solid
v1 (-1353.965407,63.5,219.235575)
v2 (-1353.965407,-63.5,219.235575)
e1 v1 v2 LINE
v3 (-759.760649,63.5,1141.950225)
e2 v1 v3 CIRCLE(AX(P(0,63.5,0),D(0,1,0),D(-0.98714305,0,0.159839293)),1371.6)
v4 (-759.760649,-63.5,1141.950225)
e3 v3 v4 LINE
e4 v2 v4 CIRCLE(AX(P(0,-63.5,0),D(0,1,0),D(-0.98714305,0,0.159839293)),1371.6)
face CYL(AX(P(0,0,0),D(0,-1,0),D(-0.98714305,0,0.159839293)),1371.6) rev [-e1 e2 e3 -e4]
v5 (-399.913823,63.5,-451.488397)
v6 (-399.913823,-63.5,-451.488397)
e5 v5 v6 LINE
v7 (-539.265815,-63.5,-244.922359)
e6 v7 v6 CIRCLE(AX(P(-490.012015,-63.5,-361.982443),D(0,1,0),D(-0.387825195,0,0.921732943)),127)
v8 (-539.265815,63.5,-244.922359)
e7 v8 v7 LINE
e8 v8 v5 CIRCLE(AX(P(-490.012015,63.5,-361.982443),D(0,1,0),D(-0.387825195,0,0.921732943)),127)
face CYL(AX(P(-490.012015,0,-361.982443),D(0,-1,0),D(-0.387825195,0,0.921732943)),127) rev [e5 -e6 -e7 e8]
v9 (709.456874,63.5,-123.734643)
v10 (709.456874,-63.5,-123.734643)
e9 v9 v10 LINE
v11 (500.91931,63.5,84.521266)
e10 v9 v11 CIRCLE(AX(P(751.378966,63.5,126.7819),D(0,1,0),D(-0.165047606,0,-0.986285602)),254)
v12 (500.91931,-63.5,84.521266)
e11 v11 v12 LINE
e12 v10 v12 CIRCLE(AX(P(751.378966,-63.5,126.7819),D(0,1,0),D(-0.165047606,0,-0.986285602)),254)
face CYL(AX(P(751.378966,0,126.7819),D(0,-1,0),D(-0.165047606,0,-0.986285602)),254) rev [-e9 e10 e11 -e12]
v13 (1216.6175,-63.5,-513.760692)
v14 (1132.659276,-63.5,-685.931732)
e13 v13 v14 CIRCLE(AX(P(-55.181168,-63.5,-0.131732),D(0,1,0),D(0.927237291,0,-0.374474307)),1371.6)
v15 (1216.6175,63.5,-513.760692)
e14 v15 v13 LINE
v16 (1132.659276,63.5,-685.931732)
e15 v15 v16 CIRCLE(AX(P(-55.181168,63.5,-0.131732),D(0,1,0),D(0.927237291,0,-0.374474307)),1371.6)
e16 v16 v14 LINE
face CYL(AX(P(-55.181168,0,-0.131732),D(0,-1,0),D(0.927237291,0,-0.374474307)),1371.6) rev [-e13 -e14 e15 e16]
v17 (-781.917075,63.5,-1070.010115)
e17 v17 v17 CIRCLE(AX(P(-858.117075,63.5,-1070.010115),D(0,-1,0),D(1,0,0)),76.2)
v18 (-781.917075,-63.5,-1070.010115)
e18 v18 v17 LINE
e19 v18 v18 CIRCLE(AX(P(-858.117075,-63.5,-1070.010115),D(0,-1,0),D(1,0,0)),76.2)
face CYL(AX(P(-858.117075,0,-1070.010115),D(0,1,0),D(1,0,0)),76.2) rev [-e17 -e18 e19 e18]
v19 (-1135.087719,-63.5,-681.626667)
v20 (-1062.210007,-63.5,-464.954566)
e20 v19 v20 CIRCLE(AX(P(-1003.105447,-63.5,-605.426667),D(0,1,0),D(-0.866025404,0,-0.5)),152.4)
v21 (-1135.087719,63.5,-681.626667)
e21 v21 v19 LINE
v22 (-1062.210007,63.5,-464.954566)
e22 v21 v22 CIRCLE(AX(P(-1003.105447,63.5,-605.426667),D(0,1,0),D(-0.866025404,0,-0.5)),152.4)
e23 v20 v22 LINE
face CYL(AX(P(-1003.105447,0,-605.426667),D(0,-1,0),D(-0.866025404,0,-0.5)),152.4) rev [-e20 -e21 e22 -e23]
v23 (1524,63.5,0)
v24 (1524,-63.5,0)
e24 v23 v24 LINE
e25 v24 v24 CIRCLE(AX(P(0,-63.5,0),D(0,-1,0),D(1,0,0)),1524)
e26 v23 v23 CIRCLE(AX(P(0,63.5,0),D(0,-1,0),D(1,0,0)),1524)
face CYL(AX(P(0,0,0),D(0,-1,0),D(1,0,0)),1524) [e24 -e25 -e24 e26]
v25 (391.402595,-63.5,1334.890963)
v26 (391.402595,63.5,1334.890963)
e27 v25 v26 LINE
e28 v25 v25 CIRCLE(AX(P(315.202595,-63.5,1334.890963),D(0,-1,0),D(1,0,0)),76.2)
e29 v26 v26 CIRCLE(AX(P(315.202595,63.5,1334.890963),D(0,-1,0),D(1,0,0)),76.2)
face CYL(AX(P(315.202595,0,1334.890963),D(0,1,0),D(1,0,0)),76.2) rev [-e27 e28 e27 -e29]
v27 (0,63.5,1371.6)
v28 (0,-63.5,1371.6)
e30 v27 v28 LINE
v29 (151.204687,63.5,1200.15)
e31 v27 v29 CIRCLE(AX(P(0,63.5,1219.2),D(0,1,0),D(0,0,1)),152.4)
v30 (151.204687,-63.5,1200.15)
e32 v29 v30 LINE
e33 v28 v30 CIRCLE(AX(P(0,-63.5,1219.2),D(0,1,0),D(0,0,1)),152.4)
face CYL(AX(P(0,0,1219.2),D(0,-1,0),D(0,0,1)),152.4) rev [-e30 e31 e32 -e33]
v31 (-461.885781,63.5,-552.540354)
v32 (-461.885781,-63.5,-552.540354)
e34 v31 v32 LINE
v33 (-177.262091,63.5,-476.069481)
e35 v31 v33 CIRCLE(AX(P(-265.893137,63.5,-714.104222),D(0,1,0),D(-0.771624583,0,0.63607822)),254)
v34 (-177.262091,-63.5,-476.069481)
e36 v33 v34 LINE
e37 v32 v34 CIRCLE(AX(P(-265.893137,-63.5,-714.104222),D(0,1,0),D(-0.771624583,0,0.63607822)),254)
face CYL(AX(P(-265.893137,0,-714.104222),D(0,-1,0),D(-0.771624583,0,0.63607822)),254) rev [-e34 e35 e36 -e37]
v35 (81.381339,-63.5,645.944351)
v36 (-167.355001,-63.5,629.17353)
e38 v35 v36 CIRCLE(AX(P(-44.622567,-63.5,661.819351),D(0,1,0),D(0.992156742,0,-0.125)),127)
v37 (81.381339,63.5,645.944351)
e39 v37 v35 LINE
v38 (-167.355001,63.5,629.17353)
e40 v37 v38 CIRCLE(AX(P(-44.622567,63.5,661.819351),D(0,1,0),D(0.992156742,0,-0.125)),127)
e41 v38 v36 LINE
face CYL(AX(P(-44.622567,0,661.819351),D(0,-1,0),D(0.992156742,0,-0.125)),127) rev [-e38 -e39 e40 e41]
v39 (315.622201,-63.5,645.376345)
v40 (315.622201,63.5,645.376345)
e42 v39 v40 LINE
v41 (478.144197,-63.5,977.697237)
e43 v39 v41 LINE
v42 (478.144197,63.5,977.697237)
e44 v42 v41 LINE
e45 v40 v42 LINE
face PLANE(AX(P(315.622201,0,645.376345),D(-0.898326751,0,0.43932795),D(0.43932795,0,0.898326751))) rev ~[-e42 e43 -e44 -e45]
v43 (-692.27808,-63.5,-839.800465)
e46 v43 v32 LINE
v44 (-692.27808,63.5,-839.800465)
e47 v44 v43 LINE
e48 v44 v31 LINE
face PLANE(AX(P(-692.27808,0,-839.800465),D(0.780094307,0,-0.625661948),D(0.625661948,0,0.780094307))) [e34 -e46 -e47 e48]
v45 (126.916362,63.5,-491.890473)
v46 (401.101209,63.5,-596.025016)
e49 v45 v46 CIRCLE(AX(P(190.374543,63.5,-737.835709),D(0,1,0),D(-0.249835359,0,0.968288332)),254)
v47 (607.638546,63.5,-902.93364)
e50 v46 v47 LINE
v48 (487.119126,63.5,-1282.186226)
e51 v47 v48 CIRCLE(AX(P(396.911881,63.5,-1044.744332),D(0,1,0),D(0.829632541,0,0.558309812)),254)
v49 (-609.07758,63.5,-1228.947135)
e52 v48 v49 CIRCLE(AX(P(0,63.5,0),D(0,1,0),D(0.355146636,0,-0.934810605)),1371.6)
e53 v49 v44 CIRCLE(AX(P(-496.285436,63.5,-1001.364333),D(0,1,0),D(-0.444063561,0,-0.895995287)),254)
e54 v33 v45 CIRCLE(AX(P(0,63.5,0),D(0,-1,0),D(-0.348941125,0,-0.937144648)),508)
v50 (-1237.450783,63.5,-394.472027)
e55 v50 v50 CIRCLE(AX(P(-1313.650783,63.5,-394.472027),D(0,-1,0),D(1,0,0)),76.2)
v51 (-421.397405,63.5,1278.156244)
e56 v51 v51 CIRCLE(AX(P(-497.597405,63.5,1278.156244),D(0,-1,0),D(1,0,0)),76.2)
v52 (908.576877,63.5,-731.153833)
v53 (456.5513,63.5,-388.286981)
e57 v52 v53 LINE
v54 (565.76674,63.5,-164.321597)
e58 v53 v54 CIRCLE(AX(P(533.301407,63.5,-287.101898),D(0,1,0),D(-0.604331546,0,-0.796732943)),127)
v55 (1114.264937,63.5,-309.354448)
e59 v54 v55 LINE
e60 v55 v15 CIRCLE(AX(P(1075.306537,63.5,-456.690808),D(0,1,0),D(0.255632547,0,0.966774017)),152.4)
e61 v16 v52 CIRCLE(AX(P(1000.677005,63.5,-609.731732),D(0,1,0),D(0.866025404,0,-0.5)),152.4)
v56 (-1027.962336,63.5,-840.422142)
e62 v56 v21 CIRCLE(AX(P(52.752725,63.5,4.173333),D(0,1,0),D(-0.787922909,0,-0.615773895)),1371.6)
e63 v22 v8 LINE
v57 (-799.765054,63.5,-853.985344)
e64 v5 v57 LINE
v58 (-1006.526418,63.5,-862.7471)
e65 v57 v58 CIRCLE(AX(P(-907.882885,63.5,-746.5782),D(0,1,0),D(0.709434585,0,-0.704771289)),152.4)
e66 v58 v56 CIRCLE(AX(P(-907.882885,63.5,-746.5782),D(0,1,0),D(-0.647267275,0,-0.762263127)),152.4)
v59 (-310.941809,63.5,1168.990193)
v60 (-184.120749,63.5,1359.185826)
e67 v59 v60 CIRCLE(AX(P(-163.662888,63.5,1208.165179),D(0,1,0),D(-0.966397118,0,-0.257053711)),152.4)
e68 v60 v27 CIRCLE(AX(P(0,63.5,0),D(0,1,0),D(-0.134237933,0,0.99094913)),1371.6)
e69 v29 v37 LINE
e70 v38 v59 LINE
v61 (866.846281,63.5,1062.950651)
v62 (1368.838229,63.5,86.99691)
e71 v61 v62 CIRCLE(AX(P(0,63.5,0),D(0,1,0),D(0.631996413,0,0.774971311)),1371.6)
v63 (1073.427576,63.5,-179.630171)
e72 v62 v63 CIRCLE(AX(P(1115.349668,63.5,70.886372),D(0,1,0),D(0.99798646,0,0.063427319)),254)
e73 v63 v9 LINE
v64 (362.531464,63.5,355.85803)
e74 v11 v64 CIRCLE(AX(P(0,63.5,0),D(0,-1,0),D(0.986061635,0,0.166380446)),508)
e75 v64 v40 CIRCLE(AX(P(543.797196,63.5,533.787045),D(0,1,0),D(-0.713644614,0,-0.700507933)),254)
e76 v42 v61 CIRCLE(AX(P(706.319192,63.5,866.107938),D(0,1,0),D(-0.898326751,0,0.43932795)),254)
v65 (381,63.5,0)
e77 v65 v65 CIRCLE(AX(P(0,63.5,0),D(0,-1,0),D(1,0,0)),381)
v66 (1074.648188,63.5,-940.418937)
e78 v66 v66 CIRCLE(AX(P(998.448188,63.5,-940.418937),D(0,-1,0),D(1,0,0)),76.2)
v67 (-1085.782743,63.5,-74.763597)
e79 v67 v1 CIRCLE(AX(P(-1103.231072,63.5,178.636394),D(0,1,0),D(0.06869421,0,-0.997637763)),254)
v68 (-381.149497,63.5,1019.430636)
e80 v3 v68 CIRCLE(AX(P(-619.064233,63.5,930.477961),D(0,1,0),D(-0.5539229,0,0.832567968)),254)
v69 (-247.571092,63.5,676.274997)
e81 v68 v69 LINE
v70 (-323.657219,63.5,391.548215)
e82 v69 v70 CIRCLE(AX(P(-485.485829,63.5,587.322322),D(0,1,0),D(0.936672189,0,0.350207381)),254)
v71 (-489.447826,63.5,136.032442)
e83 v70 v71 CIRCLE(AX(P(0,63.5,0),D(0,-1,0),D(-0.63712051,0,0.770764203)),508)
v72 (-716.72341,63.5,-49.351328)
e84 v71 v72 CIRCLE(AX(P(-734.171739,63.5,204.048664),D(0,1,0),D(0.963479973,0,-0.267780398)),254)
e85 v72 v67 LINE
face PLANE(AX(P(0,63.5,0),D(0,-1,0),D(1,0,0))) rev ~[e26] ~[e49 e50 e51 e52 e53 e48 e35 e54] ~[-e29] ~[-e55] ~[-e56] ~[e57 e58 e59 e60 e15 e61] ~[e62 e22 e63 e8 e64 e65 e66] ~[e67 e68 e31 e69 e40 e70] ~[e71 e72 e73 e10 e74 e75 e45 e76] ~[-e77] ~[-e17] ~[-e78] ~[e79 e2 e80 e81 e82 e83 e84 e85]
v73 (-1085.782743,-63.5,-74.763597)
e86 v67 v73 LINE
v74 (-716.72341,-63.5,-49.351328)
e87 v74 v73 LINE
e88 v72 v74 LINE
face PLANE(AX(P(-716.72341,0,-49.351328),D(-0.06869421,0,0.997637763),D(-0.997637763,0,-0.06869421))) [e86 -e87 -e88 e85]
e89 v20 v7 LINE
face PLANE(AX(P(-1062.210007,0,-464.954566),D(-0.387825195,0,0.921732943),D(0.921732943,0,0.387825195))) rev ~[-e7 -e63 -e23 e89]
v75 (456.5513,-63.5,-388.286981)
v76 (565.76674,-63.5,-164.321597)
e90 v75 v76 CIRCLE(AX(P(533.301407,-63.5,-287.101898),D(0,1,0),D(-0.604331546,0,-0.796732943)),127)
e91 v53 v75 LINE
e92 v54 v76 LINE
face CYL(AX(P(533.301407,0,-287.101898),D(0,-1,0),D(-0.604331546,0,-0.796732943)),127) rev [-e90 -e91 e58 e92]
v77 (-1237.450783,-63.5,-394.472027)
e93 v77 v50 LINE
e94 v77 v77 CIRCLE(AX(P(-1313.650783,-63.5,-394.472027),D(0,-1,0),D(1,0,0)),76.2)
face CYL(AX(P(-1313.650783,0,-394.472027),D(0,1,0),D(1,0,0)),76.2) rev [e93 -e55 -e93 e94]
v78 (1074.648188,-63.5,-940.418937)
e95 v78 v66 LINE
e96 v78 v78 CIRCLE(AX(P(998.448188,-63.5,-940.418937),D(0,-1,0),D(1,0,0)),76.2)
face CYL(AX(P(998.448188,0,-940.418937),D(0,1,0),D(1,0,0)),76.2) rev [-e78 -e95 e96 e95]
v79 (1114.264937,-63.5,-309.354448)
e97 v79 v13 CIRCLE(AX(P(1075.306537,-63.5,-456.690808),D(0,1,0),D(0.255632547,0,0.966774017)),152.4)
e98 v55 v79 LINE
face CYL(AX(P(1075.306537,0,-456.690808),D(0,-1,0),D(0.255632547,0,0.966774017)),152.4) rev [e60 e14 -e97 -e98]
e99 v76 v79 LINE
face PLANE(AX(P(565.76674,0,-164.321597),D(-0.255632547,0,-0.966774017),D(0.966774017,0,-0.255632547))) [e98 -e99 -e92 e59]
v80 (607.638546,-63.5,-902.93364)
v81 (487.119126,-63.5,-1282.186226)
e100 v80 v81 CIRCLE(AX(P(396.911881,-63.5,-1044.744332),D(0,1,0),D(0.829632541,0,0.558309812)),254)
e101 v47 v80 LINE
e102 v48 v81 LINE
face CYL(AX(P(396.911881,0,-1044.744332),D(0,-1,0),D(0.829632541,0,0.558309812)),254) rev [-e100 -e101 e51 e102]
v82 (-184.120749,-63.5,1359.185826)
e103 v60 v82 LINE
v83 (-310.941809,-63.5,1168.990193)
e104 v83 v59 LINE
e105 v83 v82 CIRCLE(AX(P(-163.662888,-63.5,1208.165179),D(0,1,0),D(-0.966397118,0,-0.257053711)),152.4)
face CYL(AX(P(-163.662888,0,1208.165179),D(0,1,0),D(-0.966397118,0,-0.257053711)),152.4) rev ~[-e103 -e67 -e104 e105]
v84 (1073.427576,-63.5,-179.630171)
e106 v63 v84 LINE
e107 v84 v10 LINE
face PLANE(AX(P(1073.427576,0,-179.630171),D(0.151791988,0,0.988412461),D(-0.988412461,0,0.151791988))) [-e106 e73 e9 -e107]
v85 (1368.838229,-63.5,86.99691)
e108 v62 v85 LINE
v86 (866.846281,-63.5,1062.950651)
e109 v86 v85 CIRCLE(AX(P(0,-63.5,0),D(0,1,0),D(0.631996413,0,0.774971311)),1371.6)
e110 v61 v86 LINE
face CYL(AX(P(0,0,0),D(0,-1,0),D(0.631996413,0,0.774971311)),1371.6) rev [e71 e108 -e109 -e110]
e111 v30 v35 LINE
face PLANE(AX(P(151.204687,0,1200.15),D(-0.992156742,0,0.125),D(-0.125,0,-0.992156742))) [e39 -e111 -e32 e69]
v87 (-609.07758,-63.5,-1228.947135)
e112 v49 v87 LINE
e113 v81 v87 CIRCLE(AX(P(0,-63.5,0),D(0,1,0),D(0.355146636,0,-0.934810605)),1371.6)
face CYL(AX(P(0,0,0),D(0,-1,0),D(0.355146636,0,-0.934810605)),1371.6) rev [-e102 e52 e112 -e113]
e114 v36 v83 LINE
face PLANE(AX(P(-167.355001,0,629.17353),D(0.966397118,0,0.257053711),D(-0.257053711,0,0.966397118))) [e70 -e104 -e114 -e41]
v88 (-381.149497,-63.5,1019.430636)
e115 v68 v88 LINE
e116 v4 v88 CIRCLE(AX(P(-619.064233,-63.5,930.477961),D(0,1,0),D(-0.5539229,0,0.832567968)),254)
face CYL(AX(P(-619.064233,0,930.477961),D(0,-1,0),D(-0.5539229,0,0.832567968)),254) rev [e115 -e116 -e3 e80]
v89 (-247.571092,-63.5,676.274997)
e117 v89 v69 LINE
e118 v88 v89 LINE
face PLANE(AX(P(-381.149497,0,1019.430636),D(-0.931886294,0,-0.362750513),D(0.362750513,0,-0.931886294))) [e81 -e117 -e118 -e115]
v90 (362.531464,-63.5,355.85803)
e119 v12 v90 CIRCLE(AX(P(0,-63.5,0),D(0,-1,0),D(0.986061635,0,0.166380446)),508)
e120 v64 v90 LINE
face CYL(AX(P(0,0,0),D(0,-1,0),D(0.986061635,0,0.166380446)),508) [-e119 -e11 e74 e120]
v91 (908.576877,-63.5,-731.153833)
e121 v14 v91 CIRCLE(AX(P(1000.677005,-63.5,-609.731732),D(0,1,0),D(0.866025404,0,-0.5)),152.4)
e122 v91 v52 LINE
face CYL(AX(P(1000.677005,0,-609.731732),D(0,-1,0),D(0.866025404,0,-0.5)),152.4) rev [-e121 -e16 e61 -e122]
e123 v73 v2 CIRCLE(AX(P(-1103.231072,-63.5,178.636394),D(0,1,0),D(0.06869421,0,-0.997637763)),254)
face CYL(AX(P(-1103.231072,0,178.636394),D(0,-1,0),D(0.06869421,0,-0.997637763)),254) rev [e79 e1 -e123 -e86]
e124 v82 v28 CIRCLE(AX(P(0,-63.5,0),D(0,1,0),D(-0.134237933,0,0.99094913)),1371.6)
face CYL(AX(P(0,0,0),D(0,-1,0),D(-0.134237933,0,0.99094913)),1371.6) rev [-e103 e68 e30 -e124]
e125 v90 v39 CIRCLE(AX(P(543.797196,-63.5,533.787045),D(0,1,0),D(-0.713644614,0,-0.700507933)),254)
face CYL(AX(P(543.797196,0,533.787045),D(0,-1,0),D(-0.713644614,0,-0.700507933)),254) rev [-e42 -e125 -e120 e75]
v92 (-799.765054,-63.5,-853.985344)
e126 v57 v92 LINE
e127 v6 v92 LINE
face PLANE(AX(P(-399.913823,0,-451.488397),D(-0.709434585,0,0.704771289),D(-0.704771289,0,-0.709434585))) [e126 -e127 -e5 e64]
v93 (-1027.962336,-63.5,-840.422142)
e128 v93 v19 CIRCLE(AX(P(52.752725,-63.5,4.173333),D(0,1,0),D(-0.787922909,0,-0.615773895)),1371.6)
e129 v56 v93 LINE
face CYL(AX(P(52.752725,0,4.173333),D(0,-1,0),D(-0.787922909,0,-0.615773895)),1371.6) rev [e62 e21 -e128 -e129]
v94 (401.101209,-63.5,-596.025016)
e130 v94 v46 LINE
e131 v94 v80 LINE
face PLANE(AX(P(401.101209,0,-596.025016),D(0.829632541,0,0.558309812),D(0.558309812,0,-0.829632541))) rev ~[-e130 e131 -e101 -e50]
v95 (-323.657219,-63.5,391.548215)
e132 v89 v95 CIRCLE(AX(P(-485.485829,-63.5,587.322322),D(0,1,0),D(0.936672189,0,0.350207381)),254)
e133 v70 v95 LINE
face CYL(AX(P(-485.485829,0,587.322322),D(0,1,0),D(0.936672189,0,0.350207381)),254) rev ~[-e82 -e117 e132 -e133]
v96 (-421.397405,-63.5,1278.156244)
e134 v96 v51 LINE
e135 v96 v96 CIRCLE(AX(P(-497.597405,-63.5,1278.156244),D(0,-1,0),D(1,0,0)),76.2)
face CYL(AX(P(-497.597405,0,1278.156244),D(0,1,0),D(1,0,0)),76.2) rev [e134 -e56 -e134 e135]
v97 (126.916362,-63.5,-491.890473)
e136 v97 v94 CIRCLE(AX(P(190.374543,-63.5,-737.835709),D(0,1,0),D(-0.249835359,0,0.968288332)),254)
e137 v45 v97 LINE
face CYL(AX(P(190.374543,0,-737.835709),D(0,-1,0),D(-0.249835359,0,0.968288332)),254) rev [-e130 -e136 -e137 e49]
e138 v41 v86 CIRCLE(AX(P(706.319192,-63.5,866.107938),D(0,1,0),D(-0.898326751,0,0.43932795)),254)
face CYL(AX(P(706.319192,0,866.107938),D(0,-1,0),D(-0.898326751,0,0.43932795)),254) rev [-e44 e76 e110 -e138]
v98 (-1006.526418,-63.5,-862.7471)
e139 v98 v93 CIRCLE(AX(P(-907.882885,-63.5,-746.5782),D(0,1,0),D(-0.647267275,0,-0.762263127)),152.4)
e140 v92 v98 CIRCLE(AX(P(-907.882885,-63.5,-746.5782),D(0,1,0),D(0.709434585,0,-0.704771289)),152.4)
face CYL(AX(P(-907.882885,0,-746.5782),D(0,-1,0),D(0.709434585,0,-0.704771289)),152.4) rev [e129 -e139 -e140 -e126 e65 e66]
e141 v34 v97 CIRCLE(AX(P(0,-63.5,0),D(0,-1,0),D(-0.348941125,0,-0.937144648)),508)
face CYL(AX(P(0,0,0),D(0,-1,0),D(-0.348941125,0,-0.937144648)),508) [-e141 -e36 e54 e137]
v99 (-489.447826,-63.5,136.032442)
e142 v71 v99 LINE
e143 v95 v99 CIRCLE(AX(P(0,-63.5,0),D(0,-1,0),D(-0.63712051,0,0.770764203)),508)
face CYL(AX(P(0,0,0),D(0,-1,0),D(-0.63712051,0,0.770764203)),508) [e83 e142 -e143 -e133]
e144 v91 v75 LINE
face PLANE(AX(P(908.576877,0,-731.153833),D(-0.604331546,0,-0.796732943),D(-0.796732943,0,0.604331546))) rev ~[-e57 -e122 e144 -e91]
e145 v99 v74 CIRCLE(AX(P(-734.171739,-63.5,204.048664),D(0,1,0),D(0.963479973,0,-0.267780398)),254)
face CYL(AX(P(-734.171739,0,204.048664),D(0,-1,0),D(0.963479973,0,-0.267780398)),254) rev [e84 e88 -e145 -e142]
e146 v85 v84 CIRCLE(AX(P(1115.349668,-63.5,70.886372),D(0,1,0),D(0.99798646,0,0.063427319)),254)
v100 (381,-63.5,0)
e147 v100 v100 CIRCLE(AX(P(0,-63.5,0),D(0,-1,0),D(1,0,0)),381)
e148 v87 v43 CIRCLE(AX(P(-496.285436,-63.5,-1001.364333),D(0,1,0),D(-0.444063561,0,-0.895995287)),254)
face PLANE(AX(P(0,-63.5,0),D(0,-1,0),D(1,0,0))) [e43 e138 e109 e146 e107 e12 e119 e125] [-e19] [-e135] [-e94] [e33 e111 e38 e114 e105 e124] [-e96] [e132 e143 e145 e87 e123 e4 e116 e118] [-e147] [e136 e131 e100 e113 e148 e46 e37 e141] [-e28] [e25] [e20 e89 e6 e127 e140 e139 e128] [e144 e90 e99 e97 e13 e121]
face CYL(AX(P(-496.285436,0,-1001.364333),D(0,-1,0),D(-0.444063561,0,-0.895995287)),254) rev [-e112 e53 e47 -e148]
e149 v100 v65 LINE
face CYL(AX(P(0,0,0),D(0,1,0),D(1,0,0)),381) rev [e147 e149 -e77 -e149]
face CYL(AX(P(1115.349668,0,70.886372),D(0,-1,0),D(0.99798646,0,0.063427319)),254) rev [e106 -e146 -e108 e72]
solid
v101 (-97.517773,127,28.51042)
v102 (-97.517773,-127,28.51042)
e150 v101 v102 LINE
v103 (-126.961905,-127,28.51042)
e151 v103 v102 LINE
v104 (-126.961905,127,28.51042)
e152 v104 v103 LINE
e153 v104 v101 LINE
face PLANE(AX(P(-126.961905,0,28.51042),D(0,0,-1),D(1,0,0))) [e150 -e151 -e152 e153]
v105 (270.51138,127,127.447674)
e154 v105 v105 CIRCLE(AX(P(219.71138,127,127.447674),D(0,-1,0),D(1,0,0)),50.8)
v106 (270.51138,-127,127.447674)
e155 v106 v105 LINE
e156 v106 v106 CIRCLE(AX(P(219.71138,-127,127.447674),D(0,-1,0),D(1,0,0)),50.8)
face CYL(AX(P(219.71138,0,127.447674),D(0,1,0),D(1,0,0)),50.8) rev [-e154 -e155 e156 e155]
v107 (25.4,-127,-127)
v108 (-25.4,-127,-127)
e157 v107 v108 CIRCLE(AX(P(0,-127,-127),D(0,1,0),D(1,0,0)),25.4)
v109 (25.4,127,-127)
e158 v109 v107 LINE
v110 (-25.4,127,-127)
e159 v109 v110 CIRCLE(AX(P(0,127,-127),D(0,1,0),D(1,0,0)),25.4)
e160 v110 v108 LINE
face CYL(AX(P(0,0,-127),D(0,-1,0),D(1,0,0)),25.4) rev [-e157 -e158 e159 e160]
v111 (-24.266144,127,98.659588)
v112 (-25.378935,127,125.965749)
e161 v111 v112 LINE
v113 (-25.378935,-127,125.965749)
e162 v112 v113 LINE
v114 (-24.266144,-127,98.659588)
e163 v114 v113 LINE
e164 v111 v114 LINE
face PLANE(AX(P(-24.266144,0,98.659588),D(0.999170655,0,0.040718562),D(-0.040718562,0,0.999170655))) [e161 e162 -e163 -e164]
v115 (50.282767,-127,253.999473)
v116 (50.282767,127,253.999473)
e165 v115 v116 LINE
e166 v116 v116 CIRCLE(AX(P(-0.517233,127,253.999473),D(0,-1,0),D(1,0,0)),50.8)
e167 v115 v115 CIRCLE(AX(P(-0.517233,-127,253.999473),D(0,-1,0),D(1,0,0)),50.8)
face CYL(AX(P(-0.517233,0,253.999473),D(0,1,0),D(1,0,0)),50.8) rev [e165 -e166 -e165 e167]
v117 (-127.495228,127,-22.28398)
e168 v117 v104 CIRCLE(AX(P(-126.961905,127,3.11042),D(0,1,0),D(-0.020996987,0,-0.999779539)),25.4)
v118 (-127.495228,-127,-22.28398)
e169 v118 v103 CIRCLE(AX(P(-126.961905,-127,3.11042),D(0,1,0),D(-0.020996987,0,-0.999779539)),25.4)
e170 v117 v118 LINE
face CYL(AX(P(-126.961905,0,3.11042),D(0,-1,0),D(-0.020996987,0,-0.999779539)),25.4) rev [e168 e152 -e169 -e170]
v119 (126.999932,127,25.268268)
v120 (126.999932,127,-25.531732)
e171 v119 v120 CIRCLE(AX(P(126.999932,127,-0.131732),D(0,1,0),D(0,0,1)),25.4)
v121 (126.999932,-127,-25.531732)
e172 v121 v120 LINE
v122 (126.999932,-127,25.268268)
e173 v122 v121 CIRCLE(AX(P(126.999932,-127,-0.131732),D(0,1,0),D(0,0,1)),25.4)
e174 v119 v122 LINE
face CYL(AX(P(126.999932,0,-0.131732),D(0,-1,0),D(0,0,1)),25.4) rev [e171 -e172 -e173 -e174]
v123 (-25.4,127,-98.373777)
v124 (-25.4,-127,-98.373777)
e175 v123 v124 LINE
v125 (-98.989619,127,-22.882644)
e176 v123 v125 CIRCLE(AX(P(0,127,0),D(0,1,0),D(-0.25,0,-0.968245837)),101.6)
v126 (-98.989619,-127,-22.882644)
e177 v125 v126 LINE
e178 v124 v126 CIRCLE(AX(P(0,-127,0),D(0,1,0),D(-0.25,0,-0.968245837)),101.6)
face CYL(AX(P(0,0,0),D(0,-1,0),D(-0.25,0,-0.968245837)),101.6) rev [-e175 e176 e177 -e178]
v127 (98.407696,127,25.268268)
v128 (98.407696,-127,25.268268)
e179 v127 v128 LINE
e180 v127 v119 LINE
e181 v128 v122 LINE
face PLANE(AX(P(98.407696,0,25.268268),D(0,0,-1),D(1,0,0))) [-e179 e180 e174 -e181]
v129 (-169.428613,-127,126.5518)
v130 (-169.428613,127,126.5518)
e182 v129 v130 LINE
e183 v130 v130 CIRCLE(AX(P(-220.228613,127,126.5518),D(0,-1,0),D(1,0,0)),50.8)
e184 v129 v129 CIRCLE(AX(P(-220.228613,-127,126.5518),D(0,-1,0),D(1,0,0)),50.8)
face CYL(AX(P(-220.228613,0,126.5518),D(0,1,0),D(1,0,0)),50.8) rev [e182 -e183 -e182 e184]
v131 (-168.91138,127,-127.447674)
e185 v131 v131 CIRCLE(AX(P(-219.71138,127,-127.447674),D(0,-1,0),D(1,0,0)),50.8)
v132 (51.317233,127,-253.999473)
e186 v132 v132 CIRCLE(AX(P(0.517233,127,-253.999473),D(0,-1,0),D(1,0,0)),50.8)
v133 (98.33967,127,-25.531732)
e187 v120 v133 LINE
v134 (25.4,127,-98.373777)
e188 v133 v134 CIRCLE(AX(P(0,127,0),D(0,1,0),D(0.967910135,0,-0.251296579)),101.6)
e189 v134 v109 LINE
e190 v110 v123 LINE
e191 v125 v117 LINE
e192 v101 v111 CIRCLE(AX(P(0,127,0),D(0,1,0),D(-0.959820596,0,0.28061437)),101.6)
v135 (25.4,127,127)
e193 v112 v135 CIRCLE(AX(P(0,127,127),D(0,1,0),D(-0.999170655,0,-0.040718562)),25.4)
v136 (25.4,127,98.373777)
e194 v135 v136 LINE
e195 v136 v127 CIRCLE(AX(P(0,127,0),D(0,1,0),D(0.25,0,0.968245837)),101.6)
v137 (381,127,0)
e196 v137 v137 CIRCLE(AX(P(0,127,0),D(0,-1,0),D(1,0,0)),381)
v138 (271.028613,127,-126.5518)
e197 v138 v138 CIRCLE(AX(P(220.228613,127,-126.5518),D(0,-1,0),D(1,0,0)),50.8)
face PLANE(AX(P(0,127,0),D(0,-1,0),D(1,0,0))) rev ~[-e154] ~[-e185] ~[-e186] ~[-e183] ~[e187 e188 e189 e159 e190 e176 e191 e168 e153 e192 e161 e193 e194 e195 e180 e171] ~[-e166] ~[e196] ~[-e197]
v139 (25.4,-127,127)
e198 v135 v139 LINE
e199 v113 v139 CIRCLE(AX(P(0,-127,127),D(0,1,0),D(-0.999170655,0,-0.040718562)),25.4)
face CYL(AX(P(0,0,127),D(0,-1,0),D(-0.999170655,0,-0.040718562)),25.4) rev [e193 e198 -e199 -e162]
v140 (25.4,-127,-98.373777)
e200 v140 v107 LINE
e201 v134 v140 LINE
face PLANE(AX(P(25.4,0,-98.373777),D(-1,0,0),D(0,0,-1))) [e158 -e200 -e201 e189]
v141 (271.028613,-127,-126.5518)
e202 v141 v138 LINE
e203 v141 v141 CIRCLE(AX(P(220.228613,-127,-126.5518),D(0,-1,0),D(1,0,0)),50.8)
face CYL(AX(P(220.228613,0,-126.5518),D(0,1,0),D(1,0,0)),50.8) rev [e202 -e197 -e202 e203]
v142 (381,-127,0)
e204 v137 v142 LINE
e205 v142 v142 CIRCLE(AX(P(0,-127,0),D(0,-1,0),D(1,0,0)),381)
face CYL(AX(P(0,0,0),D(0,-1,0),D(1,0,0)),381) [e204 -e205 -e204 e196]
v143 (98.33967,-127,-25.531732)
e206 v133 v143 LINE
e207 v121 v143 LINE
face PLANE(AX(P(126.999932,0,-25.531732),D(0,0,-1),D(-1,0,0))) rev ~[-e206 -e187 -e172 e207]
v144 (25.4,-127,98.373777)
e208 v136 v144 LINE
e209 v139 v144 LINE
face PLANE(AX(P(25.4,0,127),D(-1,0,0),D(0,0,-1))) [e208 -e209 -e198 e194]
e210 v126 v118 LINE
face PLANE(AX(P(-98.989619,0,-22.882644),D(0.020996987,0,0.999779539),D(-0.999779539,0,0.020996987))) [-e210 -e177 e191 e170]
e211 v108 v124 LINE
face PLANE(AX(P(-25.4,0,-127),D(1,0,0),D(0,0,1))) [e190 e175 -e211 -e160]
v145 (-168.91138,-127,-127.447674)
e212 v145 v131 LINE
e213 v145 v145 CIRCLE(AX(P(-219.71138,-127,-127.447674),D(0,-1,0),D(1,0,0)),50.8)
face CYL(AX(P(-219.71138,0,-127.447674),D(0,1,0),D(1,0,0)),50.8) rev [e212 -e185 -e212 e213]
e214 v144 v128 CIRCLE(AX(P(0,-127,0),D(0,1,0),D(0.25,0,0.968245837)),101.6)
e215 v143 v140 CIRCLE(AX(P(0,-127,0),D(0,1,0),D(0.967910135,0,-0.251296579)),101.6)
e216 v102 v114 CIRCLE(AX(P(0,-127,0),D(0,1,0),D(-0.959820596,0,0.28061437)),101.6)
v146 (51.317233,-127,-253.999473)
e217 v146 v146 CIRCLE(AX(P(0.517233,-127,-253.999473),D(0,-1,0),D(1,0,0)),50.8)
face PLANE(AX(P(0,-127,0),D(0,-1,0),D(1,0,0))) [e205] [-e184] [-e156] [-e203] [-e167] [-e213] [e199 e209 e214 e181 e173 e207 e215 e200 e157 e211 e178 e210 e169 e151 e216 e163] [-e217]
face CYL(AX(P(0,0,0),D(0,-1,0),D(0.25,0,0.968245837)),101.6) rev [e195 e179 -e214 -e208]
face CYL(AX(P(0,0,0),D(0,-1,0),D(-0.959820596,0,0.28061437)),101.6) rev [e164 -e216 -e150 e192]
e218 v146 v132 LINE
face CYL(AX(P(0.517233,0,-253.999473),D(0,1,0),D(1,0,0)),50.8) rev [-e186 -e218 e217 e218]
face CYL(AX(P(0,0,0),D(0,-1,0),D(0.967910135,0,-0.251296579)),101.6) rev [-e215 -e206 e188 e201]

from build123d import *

# Parameters (mm, degrees)
F0_R     = 1524
F0_R_2   = 76.2
F0_R_3   = 381
F1_DEPTH = 63.5
F0_R_4   = 50.8
F2_DEPTH = 127


with BuildPart() as f1:
    # F0 (on Front) → F1 (new body, symmetric)
    with BuildSketch(Plane.XZ):
        Circle(F0_R)
        with Locations((-858.1170745427, -1070.0101150823)):
            Circle(F0_R_2, mode=Mode.SUBTRACT)
        with BuildLine():
            ThreePointArc((-461.8857812615, -552.5403538919), (-331.7989547218, -468.8035426728), (-177.2620913874, -476.0694812283))
            ThreePointArc((-177.2620913874, -476.0694812283), (-26.3865316213, -507.3142526571), (126.9163622961, -491.890472546))
            ThreePointArc((126.9163622961, -491.890472546), (280.557703873, -500.3846663385), (401.101208887, -596.0250164459))
            Line((401.101208887, -596.0250164459), (607.6385459906, -902.9336395474))
            ThreePointArc((607.6385459906, -902.9336395474), (638.9830182243, -1121.670038313), (487.1191261268, -1282.1862255388))
            ThreePointArc((487.1191261268, -1282.1862255388), (-66.5362029334, -1369.9852165988), (-609.0775800349, -1228.9471353557))
            ThreePointArc((-609.0775800349, -1228.9471353557), (-744.6718165916, -1054.4699417253), (-692.2780797644, -839.8004645615))
            Line((-692.2780797644, -839.8004645615), (-461.8857812615, -552.5403538919))
        make_face(mode=Mode.SUBTRACT)
        with Locations((-1313.6507831564, -394.4720267807)):
            Circle(F0_R_2, mode=Mode.SUBTRACT)
        with BuildLine():
            ThreePointArc((-1027.9623360534, -840.4221415097), (-1084.3004928018, -762.8967672342), (-1135.0877185797, -681.6266665812))
            ThreePointArc((-1135.0877185797, -681.6266665812), (-1147.5535140319, -556.8415254044), (-1062.2100068145, -464.9545660979))
            Line((-1062.2100068145, -464.9545660979), (-539.2658150417, -244.9223594641))
            ThreePointArc((-539.2658150417, -244.9223594641), (-384.7293098568, -290.9574338805), (-399.9138229098, -451.4883968585))
            Line((-399.9138229098, -451.4883968585), (-799.7650540107, -853.9853442409))
            ThreePointArc((-799.7650540107, -853.9853442409), (-901.4305461681, -898.8415484488), (-1006.5264175034, -862.7471004022))
            ThreePointArc((-1006.5264175034, -862.7471004022), (-1017.8125753987, -852.1301923679), (-1027.9623360534, -840.4221415097))
        make_face(mode=Mode.SUBTRACT)
        with Locations((998.4481878527, -940.4189365244)):
            Circle(F0_R_2, mode=Mode.SUBTRACT)
        with BuildLine():
            ThreePointArc((1216.6175000934, -513.7606923094), (1177.647634907, -601.3136543936), (1132.6592760624, -685.9317324315))
            ThreePointArc((1132.6592760624, -685.9317324315), (1030.8250715145, -759.1199985598), (908.5768768699, -731.1538329149))
            Line((908.5768768699, -731.1538329149), (456.5513003879, -388.286981395))
            ThreePointArc((456.5513003879, -388.286981395), (419.1505917051, -231.4369048846), (565.7667402646, -164.3215974436))
            Line((565.7667402646, -164.3215974436), (1114.2649371939, -309.3544476202))
            ThreePointArc((1114.2649371939, -309.3544476202), (1211.5773667904, -388.4557659455), (1216.6175000934, -513.7606923094))
        make_face(mode=Mode.SUBTRACT)
        with BuildLine():
            ThreePointArc((-1353.9654067625, 219.2355748743), (-1153.173898917, 742.6146503111), (-759.7606491087, 1141.9502248636))
            ThreePointArc((-759.7606491087, 1141.9502248636), (-540.8618487654, 1172.1396815133), (-381.149496538, 1019.4306358399))
            Line((-381.149496538, 1019.4306358399), (-247.5710924557, 676.2749971652))
            ThreePointArc((-247.5710924557, 676.2749971652), (-240.0962999779, 521.7480950746), (-323.6572190165, 391.5482148836))
            ThreePointArc((-323.6572190165, 391.5482148836), (-426.1537646923, 276.5085330303), (-489.4478262524, 136.0324423687))
            ThreePointArc((-489.4478262524, 136.0324423687), (-573.6246846499, 7.2222343878), (-716.7234099767, -49.3513281618))
            Line((-716.7234099767, -49.3513281618), (-1085.7827427749, -74.7635973728))
            ThreePointArc((-1085.7827427749, -74.7635973728), (-1290.8862569551, 7.4594927874), (-1353.9654067625, 219.2355748743))
        make_face(mode=Mode.SUBTRACT)
        with BuildLine():
            ThreePointArc((81.381338773, 645.9443512643), (-36.0791053062, 535.1070422522), (-167.3550013866, 629.1735299118))
            Line((-167.3550013866, 629.1735299118), (-310.9418087192, 1168.9901931113))
            ThreePointArc((-310.9418087192, 1168.9901931113), (-290.4599765983, 1292.7125519141), (-184.1207489495, 1359.1858260761))
            ThreePointArc((-184.1207489495, 1359.1858260761), (-92.2693907912, 1368.4929373303), (0, 1371.6))
            ThreePointArc((0, 1371.6), (114.3, 1320.0031249516), (151.2046874273, 1200.15))
            Line((151.2046874273, 1200.15), (81.381338773, 645.9443512643))
        make_face(mode=Mode.SUBTRACT)
        with Locations((-497.5974046962, 1278.1562435163)):
            Circle(F0_R_2, mode=Mode.SUBTRACT)
        Circle(F0_R_3, mode=Mode.SUBTRACT)
        with BuildLine():
            ThreePointArc((709.4568737172, -123.7346432733), (571.8952546996, -52.9445524018), (500.9193104039, 84.5212663447))
            ThreePointArc((500.9193104039, 84.5212663447), (452.5402963136, 230.8057196267), (362.5314639563, 355.8580301773))
            ThreePointArc((362.5314639563, 355.8580301773), (293.0669807769, 493.1624319507), (315.6222010897, 645.3763446078))
            Line((315.6222010897, 645.3763446078), (478.1441967843, 977.6972369202))
            ThreePointArc((478.1441967843, 977.6972369202), (651.9032387308, 1114.2105455256), (866.8462806357, 1062.9506506645))
            ThreePointArc((866.8462806357, 1062.9506506645), (1219.7101018504, 627.3705662877), (1368.8382291435, 86.9969104921))
            ThreePointArc((1368.8382291435, 86.9969104921), (1285.533665357, -117.669739788), (1073.4275763024, -179.6301712784))
            Line((1073.4275763024, -179.6301712784), (709.4568737172, -123.7346432733))
        make_face(mode=Mode.SUBTRACT)
        with Locations((315.2025953038, 1334.8909633052)):
            Circle(F0_R_2, mode=Mode.SUBTRACT)
    extrude(amount=F1_DEPTH, both=True)


with BuildPart() as f2:
    # F0 (on Front) → F2 (new body, symmetric)
    with BuildSketch(Plane.XZ):
        Circle(F0_R_3)
        with Locations((-219.7113799869, -127.4476735929)):
            Circle(F0_R_4, mode=Mode.SUBTRACT)
        with Locations((0.5172329913, -253.9994733657)):
            Circle(F0_R_4, mode=Mode.SUBTRACT)
        with Locations((220.2286129782, -126.5517997727)):
            Circle(F0_R_4, mode=Mode.SUBTRACT)
        with Locations((-220.2286129782, 126.5517997727)):
            Circle(F0_R_4, mode=Mode.SUBTRACT)
        with Locations((-0.5172329913, 253.9994733657)):
            Circle(F0_R_4, mode=Mode.SUBTRACT)
        with BuildLine():
            ThreePointArc((-97.5177725062, 28.5104199447), (-70.2713101064, 73.3791726305), (-24.2661441561, 98.6595877135))
            Line((-24.2661441561, 98.6595877135), (-25.3789346482, 125.9657485219))
            ThreePointArc((-25.3789346482, 125.9657485219), (-0.5172329913, 152.394733116), (25.4, 127))
            Line((25.4, 127), (25.4, 98.3737769937))
            ThreePointArc((25.4, 98.3737769937), (71.8901264516, 71.79393929), (98.4076961121, 25.2682675685))
            Line((98.4076961121, 25.2682675685), (126.9999316794, 25.2682675685))
            ThreePointArc((126.9999316794, 25.2682675685), (152.3999316794, -0.1317324315), (126.9999316794, -25.5317324315))
            Line((126.9999316794, -25.5317324315), (98.3396697119, -25.5317324315))
            ThreePointArc((98.3396697119, -25.5317324315), (71.7939226474, -71.8901430719), (25.4, -98.3737769937))
            Line((25.4, -98.3737769937), (25.4, -127))
            ThreePointArc((25.4, -127), (0, -152.4), (-25.4, -127))
            Line((-25.4, -127), (-25.4, -98.3737769937))
            ThreePointArc((-25.4, -98.3737769937), (-72.7524713395, -70.9199401719), (-98.989618612, -22.8826442322))
            Line((-98.989618612, -22.8826442322), (-127.4952283276, -22.2839803452))
            ThreePointArc((-127.4952283276, -22.2839803452), (-152.3605049021, 3.3770963728), (-126.9619048682, 28.5104199447))
            Line((-126.9619048682, 28.5104199447), (-97.5177725062, 28.5104199447))
        make_face(mode=Mode.SUBTRACT)
        with Locations((219.7113799869, 127.4476735929)):
            Circle(F0_R_4, mode=Mode.SUBTRACT)
    extrude(amount=F2_DEPTH, both=True)


solid = Compound([f1.part, f2.part])
